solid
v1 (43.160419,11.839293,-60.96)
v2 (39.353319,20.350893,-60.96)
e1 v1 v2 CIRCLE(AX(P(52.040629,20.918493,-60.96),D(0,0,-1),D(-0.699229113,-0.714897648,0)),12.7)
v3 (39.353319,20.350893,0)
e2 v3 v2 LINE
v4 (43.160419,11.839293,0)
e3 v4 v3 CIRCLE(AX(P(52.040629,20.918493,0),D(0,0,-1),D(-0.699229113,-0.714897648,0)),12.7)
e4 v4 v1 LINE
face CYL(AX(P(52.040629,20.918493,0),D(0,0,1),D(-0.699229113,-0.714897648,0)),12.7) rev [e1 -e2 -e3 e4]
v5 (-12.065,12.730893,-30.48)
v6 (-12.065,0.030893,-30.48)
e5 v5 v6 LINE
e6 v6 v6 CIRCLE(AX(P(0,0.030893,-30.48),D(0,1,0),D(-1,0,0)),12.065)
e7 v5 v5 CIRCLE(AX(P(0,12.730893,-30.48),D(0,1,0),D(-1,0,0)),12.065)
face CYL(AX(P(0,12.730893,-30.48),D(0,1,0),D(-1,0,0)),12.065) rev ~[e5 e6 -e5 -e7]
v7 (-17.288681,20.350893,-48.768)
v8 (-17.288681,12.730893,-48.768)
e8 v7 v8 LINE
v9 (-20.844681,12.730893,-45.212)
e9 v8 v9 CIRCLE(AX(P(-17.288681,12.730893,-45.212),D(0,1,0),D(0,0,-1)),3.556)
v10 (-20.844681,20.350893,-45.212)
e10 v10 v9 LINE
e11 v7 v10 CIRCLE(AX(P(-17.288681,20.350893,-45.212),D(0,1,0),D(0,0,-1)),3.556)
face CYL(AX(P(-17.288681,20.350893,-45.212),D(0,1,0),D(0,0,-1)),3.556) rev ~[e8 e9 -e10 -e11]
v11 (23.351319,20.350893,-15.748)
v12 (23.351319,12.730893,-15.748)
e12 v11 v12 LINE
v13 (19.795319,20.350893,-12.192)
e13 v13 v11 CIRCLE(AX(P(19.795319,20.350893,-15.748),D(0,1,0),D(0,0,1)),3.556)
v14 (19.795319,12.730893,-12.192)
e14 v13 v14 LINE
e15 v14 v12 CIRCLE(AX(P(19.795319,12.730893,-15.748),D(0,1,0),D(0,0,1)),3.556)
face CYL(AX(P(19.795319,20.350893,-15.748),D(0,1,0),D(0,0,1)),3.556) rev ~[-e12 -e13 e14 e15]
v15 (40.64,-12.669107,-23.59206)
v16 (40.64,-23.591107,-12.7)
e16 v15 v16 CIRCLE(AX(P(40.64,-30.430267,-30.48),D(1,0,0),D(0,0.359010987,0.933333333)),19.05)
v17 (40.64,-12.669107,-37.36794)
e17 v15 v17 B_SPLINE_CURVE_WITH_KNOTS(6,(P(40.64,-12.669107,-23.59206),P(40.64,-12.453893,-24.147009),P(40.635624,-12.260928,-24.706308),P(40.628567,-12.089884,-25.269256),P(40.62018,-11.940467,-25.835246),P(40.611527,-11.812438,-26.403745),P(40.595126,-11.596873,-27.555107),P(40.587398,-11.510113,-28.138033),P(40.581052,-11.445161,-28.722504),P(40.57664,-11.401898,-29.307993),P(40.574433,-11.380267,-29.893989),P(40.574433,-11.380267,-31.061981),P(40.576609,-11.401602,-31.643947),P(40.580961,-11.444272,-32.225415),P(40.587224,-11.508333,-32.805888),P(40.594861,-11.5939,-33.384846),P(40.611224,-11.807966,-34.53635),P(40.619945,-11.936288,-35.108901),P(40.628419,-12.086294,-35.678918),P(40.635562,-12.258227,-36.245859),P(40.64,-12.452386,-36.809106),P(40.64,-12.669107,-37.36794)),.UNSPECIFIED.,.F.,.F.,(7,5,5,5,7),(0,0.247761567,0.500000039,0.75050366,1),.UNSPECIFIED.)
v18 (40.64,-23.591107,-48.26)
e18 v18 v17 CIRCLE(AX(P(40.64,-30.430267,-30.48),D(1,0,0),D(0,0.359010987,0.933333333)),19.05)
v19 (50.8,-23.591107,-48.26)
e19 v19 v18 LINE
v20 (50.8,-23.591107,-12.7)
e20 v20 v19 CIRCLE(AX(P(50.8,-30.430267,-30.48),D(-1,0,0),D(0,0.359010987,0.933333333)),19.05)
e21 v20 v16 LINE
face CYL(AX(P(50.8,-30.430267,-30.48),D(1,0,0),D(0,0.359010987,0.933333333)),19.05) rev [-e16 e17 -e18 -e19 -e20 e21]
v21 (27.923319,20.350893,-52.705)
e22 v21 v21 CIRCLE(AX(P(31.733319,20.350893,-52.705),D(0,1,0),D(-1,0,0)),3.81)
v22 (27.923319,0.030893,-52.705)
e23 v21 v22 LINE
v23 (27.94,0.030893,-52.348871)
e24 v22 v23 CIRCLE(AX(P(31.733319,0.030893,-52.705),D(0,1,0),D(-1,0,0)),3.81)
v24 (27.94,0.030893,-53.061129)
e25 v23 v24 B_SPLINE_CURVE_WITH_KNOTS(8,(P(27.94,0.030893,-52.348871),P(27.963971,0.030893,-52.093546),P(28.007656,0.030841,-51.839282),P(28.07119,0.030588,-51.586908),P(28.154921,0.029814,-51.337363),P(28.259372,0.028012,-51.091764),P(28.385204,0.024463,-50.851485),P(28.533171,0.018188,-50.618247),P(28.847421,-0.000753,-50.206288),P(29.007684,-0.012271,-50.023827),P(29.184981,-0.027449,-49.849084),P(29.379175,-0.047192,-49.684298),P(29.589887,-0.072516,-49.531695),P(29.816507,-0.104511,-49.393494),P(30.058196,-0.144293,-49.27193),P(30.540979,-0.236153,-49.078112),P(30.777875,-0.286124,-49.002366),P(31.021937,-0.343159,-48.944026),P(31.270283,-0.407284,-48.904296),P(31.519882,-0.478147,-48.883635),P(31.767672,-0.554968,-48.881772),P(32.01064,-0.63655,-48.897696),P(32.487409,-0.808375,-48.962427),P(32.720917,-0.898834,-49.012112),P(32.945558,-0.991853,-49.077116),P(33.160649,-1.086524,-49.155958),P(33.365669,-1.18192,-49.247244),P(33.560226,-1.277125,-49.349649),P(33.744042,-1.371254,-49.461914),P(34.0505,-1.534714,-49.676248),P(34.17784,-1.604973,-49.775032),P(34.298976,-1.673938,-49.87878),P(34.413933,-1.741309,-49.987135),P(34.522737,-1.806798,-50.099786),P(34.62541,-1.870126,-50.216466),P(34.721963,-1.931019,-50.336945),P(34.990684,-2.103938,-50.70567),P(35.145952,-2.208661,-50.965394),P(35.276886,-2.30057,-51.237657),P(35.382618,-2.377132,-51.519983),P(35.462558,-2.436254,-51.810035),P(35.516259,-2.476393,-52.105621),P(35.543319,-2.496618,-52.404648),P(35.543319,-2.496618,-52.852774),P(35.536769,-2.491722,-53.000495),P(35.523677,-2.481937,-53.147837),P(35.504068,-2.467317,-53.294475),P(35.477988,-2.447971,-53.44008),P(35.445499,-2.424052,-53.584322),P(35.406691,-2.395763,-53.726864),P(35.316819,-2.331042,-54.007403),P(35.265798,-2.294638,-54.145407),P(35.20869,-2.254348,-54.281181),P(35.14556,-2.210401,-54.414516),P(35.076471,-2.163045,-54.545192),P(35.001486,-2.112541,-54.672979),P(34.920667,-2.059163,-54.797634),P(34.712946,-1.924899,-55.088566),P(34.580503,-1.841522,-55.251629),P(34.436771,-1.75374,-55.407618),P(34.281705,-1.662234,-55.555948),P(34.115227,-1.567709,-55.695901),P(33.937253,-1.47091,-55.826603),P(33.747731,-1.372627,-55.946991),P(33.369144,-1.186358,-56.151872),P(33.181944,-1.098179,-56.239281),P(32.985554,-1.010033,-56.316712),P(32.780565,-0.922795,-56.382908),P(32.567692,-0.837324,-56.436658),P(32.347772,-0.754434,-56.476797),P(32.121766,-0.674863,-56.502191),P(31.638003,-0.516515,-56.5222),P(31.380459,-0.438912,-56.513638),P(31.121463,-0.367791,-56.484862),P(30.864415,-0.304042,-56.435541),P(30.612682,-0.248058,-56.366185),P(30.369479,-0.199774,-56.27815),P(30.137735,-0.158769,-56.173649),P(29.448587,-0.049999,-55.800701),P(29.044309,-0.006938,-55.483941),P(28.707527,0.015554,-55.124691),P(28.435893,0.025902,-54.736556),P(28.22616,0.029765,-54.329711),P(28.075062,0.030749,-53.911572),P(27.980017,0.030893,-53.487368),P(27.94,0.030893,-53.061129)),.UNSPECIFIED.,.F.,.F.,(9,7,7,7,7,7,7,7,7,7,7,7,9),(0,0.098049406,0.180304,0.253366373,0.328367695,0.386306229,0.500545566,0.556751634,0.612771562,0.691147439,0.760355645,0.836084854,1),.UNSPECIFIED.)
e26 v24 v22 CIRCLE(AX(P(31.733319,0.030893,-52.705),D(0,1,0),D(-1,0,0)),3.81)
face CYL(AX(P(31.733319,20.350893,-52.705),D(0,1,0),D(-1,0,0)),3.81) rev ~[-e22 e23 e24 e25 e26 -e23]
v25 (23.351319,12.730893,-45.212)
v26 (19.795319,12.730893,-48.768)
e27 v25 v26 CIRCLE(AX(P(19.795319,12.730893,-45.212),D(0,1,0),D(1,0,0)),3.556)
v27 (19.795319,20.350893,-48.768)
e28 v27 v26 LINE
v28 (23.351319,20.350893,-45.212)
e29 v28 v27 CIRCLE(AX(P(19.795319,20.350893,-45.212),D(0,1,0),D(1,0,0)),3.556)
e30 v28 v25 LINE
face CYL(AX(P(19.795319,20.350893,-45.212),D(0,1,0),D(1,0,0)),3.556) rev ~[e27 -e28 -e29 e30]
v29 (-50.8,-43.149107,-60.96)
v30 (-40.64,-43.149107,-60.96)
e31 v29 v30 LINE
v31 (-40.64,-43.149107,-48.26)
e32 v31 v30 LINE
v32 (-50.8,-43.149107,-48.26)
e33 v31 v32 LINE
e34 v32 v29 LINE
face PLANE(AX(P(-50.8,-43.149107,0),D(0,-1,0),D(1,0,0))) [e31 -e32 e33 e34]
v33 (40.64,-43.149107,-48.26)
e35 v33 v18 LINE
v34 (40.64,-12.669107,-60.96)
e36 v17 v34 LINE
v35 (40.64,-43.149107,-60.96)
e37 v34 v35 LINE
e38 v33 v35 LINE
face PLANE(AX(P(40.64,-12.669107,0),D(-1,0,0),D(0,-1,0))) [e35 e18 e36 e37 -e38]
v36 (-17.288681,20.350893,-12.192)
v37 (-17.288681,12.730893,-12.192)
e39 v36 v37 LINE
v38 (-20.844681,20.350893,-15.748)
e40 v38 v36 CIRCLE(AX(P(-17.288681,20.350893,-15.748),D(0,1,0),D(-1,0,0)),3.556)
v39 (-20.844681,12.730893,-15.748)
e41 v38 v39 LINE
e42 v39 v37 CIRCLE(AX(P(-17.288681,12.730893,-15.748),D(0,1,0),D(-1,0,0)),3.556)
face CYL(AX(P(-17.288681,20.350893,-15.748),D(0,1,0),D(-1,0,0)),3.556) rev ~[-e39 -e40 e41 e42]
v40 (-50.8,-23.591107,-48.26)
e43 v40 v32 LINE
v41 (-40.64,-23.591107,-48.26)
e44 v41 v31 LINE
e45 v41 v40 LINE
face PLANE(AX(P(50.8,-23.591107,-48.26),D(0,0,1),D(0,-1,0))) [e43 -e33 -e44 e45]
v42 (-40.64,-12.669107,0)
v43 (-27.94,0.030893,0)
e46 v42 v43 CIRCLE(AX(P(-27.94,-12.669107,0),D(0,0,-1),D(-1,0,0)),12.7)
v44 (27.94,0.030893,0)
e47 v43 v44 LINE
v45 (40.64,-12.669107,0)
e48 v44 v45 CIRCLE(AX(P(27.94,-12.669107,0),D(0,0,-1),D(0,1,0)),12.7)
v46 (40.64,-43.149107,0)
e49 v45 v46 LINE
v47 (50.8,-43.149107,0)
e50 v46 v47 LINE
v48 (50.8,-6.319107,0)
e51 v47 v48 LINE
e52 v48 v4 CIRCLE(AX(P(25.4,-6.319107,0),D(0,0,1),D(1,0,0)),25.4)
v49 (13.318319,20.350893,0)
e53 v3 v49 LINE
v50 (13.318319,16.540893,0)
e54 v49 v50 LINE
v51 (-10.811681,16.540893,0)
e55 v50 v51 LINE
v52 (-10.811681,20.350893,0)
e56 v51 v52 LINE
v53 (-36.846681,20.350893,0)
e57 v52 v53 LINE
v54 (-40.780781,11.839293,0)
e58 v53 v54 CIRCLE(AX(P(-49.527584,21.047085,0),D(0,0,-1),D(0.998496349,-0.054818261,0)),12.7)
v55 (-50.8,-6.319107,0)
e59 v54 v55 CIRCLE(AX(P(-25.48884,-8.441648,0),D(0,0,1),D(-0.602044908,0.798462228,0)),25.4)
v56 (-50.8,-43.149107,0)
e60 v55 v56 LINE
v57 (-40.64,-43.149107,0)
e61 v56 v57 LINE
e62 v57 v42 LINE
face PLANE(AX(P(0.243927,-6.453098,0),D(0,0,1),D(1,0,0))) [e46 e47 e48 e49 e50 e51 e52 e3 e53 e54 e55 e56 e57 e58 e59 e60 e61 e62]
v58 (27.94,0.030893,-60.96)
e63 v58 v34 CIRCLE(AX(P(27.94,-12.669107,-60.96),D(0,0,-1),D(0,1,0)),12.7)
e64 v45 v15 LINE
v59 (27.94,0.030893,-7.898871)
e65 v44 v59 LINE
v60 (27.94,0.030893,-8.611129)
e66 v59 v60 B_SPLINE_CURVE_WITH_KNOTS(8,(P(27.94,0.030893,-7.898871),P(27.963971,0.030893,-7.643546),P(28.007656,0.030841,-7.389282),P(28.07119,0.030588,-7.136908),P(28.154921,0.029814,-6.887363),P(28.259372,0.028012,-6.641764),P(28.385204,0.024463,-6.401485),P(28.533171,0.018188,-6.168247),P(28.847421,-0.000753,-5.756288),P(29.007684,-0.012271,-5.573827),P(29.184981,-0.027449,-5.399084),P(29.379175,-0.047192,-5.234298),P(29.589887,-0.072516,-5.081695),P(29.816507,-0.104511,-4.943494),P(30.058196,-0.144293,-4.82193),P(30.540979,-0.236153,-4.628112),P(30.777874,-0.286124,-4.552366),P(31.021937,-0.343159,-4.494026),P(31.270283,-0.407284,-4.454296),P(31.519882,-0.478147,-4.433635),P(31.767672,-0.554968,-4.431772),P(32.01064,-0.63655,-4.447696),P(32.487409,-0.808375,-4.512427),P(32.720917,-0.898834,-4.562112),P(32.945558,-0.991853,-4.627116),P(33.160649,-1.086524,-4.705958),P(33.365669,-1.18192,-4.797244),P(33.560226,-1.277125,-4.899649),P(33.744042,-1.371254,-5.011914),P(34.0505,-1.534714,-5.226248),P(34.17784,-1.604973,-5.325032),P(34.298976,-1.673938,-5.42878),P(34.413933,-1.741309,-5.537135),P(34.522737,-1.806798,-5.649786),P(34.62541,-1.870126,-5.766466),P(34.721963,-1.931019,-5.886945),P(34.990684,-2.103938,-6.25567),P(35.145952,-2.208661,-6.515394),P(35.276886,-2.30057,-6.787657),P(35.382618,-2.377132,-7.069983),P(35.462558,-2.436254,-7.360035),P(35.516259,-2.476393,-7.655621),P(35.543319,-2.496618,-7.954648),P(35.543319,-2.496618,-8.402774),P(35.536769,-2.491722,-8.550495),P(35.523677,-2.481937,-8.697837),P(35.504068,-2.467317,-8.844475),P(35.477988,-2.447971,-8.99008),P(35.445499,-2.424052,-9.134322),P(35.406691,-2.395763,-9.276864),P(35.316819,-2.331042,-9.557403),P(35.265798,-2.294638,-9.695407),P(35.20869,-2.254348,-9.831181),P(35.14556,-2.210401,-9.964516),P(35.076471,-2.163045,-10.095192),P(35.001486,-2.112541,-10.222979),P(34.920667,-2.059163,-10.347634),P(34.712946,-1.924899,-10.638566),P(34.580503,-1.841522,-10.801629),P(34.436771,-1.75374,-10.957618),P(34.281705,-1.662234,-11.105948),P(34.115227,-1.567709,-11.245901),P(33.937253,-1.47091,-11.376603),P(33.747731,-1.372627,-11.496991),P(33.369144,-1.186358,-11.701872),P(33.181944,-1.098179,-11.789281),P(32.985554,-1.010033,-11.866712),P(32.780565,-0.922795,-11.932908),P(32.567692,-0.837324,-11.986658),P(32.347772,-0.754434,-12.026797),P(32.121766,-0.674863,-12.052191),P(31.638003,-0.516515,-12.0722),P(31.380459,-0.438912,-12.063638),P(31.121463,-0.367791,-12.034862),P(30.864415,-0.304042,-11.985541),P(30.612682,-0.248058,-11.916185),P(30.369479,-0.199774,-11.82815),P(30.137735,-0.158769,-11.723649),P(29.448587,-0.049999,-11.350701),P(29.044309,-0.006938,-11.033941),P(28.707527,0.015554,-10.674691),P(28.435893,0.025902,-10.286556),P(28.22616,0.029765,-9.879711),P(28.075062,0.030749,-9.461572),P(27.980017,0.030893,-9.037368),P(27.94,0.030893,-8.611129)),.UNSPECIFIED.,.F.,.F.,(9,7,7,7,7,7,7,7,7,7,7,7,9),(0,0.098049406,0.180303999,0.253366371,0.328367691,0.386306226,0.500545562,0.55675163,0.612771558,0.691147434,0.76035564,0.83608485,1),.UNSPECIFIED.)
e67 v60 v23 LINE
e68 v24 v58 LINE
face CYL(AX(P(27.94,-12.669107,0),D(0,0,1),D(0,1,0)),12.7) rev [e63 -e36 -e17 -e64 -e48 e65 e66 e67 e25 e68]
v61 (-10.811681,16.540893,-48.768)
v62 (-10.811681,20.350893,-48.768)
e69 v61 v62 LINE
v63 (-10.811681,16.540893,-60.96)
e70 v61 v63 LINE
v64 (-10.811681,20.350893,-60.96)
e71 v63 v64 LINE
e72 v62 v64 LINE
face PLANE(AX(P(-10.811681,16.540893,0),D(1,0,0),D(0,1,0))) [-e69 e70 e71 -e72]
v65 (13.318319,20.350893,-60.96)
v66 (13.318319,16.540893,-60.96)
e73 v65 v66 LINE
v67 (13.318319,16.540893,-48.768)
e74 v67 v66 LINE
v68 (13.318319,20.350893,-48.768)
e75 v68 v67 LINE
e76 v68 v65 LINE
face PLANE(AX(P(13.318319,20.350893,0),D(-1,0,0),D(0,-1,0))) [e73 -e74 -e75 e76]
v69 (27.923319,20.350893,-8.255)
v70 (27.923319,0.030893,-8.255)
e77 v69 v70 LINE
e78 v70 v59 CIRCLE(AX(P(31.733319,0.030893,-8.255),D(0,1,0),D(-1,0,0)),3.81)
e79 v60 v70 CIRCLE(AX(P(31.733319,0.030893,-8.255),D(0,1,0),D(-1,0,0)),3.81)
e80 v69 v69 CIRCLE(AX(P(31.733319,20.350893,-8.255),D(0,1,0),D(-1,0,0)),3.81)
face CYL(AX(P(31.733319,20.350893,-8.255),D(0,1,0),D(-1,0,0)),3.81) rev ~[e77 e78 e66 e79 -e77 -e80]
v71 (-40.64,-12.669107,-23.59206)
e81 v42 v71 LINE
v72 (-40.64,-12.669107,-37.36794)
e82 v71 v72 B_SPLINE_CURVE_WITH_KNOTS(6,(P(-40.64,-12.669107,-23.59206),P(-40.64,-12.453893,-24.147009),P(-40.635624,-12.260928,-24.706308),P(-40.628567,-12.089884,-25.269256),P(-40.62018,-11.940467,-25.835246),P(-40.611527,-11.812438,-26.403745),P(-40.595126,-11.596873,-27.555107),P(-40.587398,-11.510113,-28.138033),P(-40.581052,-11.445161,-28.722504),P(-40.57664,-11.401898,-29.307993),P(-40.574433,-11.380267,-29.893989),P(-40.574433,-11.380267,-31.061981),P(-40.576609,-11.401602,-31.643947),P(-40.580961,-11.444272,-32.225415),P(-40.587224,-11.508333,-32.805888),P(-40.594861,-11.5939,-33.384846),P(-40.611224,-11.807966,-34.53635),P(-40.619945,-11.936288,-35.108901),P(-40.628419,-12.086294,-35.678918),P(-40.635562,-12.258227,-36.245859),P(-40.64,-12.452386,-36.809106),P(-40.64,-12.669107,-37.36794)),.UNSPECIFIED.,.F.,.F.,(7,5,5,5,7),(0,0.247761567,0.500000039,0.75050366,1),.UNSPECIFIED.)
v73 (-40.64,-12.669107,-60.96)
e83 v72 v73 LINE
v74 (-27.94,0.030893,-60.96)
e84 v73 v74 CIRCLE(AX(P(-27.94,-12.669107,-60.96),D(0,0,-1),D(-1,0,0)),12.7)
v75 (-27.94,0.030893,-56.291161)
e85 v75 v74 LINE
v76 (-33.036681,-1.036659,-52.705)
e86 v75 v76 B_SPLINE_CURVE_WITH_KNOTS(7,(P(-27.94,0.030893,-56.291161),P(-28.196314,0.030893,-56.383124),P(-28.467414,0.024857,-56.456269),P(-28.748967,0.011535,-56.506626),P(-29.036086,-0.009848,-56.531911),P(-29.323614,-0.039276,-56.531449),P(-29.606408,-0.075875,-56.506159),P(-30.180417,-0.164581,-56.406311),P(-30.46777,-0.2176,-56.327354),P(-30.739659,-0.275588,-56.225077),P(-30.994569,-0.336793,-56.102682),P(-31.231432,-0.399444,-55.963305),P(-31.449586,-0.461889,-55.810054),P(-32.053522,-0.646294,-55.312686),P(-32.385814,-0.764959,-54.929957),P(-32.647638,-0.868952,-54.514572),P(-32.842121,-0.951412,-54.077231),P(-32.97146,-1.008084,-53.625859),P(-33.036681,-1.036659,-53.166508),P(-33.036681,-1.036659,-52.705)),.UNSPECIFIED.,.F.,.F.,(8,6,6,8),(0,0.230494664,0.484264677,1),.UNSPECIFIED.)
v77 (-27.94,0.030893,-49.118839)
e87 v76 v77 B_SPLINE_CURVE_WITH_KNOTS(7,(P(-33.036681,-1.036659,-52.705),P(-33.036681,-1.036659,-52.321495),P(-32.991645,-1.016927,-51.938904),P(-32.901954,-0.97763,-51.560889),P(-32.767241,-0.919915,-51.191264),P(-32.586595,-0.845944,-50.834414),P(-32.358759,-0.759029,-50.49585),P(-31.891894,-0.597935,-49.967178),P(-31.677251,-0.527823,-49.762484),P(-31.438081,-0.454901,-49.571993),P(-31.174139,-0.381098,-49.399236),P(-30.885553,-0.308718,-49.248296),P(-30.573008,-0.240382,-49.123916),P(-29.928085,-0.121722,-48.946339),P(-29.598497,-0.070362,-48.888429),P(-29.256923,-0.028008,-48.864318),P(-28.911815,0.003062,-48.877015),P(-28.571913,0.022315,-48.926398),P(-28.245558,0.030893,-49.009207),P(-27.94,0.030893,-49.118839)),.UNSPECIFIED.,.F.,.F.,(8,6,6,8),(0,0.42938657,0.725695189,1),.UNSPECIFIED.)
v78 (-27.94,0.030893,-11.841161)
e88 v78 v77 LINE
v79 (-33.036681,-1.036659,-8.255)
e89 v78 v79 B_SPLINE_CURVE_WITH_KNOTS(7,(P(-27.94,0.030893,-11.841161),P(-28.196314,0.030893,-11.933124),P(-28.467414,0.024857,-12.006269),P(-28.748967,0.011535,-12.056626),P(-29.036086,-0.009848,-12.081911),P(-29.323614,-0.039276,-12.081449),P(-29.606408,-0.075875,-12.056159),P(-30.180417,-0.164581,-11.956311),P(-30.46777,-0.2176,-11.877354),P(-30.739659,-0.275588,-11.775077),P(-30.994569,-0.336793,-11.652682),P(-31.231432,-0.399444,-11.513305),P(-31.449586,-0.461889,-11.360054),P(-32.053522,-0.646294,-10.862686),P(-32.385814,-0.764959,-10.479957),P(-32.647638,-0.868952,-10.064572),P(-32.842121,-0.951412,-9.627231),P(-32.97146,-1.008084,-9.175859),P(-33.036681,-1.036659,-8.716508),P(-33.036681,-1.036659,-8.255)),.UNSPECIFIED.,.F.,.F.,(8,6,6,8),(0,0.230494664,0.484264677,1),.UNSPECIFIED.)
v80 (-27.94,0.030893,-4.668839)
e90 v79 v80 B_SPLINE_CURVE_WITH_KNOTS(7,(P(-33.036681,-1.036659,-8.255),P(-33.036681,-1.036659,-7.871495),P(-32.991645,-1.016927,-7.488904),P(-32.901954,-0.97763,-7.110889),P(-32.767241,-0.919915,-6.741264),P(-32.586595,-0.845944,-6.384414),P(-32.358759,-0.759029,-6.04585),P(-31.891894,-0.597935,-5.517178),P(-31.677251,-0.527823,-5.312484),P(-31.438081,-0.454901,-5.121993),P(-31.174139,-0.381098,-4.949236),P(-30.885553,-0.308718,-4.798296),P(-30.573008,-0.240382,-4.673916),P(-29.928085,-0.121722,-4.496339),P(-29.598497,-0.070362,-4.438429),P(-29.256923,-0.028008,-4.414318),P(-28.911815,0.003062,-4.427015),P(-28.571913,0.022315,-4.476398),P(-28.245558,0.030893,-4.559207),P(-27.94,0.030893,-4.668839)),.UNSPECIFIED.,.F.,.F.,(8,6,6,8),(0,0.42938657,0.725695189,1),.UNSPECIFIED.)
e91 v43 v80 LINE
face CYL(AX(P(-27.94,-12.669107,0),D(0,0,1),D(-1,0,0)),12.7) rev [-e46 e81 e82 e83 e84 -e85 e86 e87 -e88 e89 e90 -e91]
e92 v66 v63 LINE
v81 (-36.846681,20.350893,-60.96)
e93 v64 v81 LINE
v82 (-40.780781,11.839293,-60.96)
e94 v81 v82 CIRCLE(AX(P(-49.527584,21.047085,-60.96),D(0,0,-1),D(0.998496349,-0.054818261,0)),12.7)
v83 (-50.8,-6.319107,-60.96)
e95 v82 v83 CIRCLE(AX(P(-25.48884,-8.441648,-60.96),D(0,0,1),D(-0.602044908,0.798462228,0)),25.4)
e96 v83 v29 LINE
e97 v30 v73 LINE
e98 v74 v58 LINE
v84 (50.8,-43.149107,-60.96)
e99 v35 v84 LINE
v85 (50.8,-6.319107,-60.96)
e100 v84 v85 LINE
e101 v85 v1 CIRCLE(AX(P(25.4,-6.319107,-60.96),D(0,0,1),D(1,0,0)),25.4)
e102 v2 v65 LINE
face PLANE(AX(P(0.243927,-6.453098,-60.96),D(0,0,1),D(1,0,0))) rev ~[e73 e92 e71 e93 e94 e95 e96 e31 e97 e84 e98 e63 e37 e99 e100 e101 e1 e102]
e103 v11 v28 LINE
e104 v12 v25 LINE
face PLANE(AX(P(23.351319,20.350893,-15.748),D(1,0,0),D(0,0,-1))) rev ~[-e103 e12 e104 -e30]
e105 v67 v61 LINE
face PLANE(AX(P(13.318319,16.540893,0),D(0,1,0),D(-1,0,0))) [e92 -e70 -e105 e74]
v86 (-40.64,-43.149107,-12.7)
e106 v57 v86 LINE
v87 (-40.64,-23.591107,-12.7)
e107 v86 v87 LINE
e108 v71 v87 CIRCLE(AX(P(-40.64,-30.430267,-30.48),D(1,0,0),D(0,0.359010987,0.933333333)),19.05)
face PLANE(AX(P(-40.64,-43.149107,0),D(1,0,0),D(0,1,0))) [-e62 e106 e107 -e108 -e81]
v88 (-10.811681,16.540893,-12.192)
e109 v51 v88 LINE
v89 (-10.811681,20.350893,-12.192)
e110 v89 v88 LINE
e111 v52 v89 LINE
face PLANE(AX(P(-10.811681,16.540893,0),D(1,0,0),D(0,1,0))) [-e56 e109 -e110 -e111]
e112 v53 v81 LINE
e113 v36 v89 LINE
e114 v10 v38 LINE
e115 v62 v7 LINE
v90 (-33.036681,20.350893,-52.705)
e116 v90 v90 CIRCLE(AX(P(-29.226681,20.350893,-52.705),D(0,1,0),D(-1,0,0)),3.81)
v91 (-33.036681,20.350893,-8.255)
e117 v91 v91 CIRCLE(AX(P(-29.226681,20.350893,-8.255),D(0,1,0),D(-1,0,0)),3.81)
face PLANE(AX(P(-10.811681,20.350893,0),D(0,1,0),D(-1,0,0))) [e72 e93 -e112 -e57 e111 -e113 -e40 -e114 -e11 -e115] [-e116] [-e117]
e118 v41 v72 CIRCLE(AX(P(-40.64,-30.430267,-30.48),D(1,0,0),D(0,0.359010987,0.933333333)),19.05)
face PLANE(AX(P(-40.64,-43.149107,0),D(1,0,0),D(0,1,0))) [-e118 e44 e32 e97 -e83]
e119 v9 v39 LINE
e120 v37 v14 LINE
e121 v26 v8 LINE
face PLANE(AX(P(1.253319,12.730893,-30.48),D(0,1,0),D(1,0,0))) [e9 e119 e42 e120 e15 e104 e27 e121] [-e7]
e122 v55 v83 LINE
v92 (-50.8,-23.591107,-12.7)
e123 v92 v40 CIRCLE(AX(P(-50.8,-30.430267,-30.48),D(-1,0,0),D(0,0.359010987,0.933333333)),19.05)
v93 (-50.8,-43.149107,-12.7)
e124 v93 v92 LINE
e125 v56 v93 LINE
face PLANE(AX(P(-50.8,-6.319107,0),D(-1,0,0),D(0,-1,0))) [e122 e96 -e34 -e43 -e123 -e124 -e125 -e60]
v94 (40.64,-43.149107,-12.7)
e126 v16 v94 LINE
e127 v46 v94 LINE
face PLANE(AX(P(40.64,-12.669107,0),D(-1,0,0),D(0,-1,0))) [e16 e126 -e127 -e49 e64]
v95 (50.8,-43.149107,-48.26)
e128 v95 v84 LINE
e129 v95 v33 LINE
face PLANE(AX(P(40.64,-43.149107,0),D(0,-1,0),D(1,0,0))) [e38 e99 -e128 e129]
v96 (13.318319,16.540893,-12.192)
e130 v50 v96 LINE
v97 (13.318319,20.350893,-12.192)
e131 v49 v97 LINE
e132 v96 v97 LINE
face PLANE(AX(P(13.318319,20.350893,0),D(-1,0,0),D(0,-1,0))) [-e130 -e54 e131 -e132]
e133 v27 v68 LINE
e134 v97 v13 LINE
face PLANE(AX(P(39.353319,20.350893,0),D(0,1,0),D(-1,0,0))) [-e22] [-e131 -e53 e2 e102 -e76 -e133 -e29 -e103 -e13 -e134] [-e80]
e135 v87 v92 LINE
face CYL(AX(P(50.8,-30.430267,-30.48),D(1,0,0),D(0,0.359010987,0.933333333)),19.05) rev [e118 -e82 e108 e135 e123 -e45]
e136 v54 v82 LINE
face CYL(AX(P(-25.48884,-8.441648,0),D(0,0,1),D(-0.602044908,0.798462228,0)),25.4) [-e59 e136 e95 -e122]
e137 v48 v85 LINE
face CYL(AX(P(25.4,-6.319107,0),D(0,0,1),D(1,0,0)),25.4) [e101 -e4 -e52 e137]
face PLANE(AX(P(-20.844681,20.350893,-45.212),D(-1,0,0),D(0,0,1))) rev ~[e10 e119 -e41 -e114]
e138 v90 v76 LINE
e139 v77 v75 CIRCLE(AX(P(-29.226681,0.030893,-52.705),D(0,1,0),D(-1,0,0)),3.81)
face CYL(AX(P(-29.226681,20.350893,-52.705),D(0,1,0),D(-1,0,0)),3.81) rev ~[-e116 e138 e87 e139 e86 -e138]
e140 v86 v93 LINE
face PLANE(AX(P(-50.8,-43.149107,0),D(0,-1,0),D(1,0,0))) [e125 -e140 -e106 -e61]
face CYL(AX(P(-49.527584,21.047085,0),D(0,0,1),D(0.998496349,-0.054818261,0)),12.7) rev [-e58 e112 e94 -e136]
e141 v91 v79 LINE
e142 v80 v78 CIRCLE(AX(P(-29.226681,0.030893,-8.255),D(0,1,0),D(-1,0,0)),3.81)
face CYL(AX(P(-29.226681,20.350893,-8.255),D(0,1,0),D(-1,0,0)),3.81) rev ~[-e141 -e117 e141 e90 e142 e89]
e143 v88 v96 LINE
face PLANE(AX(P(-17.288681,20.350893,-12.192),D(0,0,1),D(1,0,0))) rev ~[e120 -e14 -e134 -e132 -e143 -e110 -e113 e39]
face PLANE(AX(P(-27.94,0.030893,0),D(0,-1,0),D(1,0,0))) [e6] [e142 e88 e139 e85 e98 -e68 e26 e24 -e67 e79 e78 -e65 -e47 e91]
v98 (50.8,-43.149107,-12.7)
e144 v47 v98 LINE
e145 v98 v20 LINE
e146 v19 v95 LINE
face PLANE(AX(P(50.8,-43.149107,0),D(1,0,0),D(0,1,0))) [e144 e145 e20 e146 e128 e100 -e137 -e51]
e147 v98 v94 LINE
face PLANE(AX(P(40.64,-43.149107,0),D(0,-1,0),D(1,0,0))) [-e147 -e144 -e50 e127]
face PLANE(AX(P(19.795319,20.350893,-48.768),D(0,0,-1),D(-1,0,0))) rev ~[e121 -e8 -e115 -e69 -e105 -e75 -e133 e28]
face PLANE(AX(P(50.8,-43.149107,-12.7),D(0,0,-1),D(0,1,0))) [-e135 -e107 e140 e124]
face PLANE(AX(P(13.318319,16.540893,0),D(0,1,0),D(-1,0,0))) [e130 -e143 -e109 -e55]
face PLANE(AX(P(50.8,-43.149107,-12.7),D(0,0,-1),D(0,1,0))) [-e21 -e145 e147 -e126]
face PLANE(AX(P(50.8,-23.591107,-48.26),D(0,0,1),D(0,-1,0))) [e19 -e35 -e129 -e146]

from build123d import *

# Parameters (mm, degrees)
BOSS_EXTRUDE1_DEPTH = 60.96
CUT_EXTRUDE1_DEPTH  = 101.6
CUT_EXTRUDE2_DEPTH  = 7.62
SKETCH6_R           = 12.065
CUT_EXTRUDE3_DEPTH  = 12.7
SKETCH7_R           = 3.81
CUT_EXTRUDE5_DEPTH  = 102.631745151


with BuildPart() as part:
    # Sketch3 → Boss-Extrude1 (new body)
    with BuildSketch(Plane.XY):
        with BuildLine():
            Line((-27.94, 0.030892605), (27.94, 0.030892605))
            ThreePointArc((27.94, 0.030892605), (36.920256121, -3.688851274), (40.64, -12.669107395))
            Line((40.64, -12.669107395), (40.64, -43.149107395))
            Line((40.64, -43.149107395), (50.8, -43.149107395))
            Line((50.8, -43.149107395), (50.8, -6.319107395))
            ThreePointArc((50.8, -6.319107395), (48.812332806, 3.530901366), (43.160419482, 11.83929286))
            ThreePointArc((43.160419482, 11.83929286), (40.447471444, 15.733062174), (39.353319429, 20.350892605))
            Line((39.353319429, 20.350892605), (13.318319429, 20.350892605))
            Line((13.318319429, 20.350892605), (13.318319429, 16.540892605))
            Line((13.318319429, 16.540892605), (-10.811680571, 16.540892605))
            Line((-10.811680571, 16.540892605), (-10.811680571, 20.350892605))
            Line((-10.811680571, 20.350892605), (-36.846680571, 20.350892605))
            ThreePointArc((-36.846680571, 20.350892605), (-37.999423394, 15.718716246), (-40.780780624, 11.83929286))
            ThreePointArc((-40.780780624, 11.83929286), (-47.728103025, 3.829260087), (-50.8, -6.319107395))
            Line((-50.8, -6.319107395), (-50.8, -43.149107395))
            Line((-50.8, -43.149107395), (-40.64, -43.149107395))
            Line((-40.64, -43.149107395), (-40.64, -12.669107395))
            ThreePointArc((-40.64, -12.669107395), (-36.920256121, -3.688851274), (-27.94, 0.030892605))
        make_face()
    extrude(amount=-BOSS_EXTRUDE1_DEPTH)

    # Sketch4 → Cut-Extrude1 (cut)
    with BuildSketch(Plane(origin=(50.8, 0, 0), x_dir=(0, 0, -1), z_dir=(1, 0, 0))):
        with BuildLine():
            Line((12.7, -43.149107395), (12.7, -23.591107395))
            ThreePointArc((12.7, -23.591107395), (30.48, -11.3802667), (48.26, -23.591107395))
            Line((48.26, -23.591107395), (48.26, -43.149107395))
            Line((48.26, -43.149107395), (12.7, -43.149107395))
        make_face()
    extrude(amount=-CUT_EXTRUDE1_DEPTH, mode=Mode.SUBTRACT)

    # Sketch5 → Cut-Extrude2 (cut)
    with BuildSketch(Plane(origin=(0, 20.350892605, 0), x_dir=(1, 0, 0), z_dir=(0, 1, 0))):
        with BuildLine():
            Line((-20.844680571, 45.212), (-20.844680571, 15.748))
            ThreePointArc((-20.844680571, 15.748), (-19.803152285, 13.233528286), (-17.288680571, 12.192))
            Line((-17.288680571, 12.192), (19.795319429, 12.192))
            ThreePointArc((19.795319429, 12.192), (22.309791143, 13.233528286), (23.351319429, 15.748))
            Line((23.351319429, 15.748), (23.351319429, 45.212))
            ThreePointArc((23.351319429, 45.212), (22.309791143, 47.726471714), (19.795319429, 48.768))
            Line((19.795319429, 48.768), (-17.288680571, 48.768))
            ThreePointArc((-17.288680571, 48.768), (-19.803152285, 47.726471714), (-20.844680571, 45.212))
        make_face()
    extrude(amount=-CUT_EXTRUDE2_DEPTH, mode=Mode.SUBTRACT)

    # Sketch6 → Cut-Extrude3 (cut)
    with BuildSketch(Plane(origin=(0, 12.730892605, 0), x_dir=(1, 0, 0), z_dir=(0, 1, 0))):
        with Locations(Location((0, 30.48, 0), (0, 0, 180))):
            Circle(SKETCH6_R)
    extrude(amount=-CUT_EXTRUDE3_DEPTH, mode=Mode.SUBTRACT)

    # Sketch7 → Cut-Extrude5 (cut, through all)
    with BuildSketch(Plane(origin=(0, 20.350892605, 0), x_dir=(1, 0, 0), z_dir=(0, 1, 0))):
        with Locations(Location((-29.226680571, 52.705, 0), (0, 0, 180))):
            Circle(SKETCH7_R)
        with Locations(Location((31.733319429, 52.705, 0), (0, 0, 180))):
            Circle(SKETCH7_R)
        with Locations(Location((31.733319429, 8.255, 0), (0, 0, 180))):
            Circle(SKETCH7_R)
        with Locations(Location((-29.226680571, 8.255, 0), (0, 0, 180))):
            Circle(SKETCH7_R)
    extrude(amount=-CUT_EXTRUDE5_DEPTH, mode=Mode.SUBTRACT)


solid = part.part
